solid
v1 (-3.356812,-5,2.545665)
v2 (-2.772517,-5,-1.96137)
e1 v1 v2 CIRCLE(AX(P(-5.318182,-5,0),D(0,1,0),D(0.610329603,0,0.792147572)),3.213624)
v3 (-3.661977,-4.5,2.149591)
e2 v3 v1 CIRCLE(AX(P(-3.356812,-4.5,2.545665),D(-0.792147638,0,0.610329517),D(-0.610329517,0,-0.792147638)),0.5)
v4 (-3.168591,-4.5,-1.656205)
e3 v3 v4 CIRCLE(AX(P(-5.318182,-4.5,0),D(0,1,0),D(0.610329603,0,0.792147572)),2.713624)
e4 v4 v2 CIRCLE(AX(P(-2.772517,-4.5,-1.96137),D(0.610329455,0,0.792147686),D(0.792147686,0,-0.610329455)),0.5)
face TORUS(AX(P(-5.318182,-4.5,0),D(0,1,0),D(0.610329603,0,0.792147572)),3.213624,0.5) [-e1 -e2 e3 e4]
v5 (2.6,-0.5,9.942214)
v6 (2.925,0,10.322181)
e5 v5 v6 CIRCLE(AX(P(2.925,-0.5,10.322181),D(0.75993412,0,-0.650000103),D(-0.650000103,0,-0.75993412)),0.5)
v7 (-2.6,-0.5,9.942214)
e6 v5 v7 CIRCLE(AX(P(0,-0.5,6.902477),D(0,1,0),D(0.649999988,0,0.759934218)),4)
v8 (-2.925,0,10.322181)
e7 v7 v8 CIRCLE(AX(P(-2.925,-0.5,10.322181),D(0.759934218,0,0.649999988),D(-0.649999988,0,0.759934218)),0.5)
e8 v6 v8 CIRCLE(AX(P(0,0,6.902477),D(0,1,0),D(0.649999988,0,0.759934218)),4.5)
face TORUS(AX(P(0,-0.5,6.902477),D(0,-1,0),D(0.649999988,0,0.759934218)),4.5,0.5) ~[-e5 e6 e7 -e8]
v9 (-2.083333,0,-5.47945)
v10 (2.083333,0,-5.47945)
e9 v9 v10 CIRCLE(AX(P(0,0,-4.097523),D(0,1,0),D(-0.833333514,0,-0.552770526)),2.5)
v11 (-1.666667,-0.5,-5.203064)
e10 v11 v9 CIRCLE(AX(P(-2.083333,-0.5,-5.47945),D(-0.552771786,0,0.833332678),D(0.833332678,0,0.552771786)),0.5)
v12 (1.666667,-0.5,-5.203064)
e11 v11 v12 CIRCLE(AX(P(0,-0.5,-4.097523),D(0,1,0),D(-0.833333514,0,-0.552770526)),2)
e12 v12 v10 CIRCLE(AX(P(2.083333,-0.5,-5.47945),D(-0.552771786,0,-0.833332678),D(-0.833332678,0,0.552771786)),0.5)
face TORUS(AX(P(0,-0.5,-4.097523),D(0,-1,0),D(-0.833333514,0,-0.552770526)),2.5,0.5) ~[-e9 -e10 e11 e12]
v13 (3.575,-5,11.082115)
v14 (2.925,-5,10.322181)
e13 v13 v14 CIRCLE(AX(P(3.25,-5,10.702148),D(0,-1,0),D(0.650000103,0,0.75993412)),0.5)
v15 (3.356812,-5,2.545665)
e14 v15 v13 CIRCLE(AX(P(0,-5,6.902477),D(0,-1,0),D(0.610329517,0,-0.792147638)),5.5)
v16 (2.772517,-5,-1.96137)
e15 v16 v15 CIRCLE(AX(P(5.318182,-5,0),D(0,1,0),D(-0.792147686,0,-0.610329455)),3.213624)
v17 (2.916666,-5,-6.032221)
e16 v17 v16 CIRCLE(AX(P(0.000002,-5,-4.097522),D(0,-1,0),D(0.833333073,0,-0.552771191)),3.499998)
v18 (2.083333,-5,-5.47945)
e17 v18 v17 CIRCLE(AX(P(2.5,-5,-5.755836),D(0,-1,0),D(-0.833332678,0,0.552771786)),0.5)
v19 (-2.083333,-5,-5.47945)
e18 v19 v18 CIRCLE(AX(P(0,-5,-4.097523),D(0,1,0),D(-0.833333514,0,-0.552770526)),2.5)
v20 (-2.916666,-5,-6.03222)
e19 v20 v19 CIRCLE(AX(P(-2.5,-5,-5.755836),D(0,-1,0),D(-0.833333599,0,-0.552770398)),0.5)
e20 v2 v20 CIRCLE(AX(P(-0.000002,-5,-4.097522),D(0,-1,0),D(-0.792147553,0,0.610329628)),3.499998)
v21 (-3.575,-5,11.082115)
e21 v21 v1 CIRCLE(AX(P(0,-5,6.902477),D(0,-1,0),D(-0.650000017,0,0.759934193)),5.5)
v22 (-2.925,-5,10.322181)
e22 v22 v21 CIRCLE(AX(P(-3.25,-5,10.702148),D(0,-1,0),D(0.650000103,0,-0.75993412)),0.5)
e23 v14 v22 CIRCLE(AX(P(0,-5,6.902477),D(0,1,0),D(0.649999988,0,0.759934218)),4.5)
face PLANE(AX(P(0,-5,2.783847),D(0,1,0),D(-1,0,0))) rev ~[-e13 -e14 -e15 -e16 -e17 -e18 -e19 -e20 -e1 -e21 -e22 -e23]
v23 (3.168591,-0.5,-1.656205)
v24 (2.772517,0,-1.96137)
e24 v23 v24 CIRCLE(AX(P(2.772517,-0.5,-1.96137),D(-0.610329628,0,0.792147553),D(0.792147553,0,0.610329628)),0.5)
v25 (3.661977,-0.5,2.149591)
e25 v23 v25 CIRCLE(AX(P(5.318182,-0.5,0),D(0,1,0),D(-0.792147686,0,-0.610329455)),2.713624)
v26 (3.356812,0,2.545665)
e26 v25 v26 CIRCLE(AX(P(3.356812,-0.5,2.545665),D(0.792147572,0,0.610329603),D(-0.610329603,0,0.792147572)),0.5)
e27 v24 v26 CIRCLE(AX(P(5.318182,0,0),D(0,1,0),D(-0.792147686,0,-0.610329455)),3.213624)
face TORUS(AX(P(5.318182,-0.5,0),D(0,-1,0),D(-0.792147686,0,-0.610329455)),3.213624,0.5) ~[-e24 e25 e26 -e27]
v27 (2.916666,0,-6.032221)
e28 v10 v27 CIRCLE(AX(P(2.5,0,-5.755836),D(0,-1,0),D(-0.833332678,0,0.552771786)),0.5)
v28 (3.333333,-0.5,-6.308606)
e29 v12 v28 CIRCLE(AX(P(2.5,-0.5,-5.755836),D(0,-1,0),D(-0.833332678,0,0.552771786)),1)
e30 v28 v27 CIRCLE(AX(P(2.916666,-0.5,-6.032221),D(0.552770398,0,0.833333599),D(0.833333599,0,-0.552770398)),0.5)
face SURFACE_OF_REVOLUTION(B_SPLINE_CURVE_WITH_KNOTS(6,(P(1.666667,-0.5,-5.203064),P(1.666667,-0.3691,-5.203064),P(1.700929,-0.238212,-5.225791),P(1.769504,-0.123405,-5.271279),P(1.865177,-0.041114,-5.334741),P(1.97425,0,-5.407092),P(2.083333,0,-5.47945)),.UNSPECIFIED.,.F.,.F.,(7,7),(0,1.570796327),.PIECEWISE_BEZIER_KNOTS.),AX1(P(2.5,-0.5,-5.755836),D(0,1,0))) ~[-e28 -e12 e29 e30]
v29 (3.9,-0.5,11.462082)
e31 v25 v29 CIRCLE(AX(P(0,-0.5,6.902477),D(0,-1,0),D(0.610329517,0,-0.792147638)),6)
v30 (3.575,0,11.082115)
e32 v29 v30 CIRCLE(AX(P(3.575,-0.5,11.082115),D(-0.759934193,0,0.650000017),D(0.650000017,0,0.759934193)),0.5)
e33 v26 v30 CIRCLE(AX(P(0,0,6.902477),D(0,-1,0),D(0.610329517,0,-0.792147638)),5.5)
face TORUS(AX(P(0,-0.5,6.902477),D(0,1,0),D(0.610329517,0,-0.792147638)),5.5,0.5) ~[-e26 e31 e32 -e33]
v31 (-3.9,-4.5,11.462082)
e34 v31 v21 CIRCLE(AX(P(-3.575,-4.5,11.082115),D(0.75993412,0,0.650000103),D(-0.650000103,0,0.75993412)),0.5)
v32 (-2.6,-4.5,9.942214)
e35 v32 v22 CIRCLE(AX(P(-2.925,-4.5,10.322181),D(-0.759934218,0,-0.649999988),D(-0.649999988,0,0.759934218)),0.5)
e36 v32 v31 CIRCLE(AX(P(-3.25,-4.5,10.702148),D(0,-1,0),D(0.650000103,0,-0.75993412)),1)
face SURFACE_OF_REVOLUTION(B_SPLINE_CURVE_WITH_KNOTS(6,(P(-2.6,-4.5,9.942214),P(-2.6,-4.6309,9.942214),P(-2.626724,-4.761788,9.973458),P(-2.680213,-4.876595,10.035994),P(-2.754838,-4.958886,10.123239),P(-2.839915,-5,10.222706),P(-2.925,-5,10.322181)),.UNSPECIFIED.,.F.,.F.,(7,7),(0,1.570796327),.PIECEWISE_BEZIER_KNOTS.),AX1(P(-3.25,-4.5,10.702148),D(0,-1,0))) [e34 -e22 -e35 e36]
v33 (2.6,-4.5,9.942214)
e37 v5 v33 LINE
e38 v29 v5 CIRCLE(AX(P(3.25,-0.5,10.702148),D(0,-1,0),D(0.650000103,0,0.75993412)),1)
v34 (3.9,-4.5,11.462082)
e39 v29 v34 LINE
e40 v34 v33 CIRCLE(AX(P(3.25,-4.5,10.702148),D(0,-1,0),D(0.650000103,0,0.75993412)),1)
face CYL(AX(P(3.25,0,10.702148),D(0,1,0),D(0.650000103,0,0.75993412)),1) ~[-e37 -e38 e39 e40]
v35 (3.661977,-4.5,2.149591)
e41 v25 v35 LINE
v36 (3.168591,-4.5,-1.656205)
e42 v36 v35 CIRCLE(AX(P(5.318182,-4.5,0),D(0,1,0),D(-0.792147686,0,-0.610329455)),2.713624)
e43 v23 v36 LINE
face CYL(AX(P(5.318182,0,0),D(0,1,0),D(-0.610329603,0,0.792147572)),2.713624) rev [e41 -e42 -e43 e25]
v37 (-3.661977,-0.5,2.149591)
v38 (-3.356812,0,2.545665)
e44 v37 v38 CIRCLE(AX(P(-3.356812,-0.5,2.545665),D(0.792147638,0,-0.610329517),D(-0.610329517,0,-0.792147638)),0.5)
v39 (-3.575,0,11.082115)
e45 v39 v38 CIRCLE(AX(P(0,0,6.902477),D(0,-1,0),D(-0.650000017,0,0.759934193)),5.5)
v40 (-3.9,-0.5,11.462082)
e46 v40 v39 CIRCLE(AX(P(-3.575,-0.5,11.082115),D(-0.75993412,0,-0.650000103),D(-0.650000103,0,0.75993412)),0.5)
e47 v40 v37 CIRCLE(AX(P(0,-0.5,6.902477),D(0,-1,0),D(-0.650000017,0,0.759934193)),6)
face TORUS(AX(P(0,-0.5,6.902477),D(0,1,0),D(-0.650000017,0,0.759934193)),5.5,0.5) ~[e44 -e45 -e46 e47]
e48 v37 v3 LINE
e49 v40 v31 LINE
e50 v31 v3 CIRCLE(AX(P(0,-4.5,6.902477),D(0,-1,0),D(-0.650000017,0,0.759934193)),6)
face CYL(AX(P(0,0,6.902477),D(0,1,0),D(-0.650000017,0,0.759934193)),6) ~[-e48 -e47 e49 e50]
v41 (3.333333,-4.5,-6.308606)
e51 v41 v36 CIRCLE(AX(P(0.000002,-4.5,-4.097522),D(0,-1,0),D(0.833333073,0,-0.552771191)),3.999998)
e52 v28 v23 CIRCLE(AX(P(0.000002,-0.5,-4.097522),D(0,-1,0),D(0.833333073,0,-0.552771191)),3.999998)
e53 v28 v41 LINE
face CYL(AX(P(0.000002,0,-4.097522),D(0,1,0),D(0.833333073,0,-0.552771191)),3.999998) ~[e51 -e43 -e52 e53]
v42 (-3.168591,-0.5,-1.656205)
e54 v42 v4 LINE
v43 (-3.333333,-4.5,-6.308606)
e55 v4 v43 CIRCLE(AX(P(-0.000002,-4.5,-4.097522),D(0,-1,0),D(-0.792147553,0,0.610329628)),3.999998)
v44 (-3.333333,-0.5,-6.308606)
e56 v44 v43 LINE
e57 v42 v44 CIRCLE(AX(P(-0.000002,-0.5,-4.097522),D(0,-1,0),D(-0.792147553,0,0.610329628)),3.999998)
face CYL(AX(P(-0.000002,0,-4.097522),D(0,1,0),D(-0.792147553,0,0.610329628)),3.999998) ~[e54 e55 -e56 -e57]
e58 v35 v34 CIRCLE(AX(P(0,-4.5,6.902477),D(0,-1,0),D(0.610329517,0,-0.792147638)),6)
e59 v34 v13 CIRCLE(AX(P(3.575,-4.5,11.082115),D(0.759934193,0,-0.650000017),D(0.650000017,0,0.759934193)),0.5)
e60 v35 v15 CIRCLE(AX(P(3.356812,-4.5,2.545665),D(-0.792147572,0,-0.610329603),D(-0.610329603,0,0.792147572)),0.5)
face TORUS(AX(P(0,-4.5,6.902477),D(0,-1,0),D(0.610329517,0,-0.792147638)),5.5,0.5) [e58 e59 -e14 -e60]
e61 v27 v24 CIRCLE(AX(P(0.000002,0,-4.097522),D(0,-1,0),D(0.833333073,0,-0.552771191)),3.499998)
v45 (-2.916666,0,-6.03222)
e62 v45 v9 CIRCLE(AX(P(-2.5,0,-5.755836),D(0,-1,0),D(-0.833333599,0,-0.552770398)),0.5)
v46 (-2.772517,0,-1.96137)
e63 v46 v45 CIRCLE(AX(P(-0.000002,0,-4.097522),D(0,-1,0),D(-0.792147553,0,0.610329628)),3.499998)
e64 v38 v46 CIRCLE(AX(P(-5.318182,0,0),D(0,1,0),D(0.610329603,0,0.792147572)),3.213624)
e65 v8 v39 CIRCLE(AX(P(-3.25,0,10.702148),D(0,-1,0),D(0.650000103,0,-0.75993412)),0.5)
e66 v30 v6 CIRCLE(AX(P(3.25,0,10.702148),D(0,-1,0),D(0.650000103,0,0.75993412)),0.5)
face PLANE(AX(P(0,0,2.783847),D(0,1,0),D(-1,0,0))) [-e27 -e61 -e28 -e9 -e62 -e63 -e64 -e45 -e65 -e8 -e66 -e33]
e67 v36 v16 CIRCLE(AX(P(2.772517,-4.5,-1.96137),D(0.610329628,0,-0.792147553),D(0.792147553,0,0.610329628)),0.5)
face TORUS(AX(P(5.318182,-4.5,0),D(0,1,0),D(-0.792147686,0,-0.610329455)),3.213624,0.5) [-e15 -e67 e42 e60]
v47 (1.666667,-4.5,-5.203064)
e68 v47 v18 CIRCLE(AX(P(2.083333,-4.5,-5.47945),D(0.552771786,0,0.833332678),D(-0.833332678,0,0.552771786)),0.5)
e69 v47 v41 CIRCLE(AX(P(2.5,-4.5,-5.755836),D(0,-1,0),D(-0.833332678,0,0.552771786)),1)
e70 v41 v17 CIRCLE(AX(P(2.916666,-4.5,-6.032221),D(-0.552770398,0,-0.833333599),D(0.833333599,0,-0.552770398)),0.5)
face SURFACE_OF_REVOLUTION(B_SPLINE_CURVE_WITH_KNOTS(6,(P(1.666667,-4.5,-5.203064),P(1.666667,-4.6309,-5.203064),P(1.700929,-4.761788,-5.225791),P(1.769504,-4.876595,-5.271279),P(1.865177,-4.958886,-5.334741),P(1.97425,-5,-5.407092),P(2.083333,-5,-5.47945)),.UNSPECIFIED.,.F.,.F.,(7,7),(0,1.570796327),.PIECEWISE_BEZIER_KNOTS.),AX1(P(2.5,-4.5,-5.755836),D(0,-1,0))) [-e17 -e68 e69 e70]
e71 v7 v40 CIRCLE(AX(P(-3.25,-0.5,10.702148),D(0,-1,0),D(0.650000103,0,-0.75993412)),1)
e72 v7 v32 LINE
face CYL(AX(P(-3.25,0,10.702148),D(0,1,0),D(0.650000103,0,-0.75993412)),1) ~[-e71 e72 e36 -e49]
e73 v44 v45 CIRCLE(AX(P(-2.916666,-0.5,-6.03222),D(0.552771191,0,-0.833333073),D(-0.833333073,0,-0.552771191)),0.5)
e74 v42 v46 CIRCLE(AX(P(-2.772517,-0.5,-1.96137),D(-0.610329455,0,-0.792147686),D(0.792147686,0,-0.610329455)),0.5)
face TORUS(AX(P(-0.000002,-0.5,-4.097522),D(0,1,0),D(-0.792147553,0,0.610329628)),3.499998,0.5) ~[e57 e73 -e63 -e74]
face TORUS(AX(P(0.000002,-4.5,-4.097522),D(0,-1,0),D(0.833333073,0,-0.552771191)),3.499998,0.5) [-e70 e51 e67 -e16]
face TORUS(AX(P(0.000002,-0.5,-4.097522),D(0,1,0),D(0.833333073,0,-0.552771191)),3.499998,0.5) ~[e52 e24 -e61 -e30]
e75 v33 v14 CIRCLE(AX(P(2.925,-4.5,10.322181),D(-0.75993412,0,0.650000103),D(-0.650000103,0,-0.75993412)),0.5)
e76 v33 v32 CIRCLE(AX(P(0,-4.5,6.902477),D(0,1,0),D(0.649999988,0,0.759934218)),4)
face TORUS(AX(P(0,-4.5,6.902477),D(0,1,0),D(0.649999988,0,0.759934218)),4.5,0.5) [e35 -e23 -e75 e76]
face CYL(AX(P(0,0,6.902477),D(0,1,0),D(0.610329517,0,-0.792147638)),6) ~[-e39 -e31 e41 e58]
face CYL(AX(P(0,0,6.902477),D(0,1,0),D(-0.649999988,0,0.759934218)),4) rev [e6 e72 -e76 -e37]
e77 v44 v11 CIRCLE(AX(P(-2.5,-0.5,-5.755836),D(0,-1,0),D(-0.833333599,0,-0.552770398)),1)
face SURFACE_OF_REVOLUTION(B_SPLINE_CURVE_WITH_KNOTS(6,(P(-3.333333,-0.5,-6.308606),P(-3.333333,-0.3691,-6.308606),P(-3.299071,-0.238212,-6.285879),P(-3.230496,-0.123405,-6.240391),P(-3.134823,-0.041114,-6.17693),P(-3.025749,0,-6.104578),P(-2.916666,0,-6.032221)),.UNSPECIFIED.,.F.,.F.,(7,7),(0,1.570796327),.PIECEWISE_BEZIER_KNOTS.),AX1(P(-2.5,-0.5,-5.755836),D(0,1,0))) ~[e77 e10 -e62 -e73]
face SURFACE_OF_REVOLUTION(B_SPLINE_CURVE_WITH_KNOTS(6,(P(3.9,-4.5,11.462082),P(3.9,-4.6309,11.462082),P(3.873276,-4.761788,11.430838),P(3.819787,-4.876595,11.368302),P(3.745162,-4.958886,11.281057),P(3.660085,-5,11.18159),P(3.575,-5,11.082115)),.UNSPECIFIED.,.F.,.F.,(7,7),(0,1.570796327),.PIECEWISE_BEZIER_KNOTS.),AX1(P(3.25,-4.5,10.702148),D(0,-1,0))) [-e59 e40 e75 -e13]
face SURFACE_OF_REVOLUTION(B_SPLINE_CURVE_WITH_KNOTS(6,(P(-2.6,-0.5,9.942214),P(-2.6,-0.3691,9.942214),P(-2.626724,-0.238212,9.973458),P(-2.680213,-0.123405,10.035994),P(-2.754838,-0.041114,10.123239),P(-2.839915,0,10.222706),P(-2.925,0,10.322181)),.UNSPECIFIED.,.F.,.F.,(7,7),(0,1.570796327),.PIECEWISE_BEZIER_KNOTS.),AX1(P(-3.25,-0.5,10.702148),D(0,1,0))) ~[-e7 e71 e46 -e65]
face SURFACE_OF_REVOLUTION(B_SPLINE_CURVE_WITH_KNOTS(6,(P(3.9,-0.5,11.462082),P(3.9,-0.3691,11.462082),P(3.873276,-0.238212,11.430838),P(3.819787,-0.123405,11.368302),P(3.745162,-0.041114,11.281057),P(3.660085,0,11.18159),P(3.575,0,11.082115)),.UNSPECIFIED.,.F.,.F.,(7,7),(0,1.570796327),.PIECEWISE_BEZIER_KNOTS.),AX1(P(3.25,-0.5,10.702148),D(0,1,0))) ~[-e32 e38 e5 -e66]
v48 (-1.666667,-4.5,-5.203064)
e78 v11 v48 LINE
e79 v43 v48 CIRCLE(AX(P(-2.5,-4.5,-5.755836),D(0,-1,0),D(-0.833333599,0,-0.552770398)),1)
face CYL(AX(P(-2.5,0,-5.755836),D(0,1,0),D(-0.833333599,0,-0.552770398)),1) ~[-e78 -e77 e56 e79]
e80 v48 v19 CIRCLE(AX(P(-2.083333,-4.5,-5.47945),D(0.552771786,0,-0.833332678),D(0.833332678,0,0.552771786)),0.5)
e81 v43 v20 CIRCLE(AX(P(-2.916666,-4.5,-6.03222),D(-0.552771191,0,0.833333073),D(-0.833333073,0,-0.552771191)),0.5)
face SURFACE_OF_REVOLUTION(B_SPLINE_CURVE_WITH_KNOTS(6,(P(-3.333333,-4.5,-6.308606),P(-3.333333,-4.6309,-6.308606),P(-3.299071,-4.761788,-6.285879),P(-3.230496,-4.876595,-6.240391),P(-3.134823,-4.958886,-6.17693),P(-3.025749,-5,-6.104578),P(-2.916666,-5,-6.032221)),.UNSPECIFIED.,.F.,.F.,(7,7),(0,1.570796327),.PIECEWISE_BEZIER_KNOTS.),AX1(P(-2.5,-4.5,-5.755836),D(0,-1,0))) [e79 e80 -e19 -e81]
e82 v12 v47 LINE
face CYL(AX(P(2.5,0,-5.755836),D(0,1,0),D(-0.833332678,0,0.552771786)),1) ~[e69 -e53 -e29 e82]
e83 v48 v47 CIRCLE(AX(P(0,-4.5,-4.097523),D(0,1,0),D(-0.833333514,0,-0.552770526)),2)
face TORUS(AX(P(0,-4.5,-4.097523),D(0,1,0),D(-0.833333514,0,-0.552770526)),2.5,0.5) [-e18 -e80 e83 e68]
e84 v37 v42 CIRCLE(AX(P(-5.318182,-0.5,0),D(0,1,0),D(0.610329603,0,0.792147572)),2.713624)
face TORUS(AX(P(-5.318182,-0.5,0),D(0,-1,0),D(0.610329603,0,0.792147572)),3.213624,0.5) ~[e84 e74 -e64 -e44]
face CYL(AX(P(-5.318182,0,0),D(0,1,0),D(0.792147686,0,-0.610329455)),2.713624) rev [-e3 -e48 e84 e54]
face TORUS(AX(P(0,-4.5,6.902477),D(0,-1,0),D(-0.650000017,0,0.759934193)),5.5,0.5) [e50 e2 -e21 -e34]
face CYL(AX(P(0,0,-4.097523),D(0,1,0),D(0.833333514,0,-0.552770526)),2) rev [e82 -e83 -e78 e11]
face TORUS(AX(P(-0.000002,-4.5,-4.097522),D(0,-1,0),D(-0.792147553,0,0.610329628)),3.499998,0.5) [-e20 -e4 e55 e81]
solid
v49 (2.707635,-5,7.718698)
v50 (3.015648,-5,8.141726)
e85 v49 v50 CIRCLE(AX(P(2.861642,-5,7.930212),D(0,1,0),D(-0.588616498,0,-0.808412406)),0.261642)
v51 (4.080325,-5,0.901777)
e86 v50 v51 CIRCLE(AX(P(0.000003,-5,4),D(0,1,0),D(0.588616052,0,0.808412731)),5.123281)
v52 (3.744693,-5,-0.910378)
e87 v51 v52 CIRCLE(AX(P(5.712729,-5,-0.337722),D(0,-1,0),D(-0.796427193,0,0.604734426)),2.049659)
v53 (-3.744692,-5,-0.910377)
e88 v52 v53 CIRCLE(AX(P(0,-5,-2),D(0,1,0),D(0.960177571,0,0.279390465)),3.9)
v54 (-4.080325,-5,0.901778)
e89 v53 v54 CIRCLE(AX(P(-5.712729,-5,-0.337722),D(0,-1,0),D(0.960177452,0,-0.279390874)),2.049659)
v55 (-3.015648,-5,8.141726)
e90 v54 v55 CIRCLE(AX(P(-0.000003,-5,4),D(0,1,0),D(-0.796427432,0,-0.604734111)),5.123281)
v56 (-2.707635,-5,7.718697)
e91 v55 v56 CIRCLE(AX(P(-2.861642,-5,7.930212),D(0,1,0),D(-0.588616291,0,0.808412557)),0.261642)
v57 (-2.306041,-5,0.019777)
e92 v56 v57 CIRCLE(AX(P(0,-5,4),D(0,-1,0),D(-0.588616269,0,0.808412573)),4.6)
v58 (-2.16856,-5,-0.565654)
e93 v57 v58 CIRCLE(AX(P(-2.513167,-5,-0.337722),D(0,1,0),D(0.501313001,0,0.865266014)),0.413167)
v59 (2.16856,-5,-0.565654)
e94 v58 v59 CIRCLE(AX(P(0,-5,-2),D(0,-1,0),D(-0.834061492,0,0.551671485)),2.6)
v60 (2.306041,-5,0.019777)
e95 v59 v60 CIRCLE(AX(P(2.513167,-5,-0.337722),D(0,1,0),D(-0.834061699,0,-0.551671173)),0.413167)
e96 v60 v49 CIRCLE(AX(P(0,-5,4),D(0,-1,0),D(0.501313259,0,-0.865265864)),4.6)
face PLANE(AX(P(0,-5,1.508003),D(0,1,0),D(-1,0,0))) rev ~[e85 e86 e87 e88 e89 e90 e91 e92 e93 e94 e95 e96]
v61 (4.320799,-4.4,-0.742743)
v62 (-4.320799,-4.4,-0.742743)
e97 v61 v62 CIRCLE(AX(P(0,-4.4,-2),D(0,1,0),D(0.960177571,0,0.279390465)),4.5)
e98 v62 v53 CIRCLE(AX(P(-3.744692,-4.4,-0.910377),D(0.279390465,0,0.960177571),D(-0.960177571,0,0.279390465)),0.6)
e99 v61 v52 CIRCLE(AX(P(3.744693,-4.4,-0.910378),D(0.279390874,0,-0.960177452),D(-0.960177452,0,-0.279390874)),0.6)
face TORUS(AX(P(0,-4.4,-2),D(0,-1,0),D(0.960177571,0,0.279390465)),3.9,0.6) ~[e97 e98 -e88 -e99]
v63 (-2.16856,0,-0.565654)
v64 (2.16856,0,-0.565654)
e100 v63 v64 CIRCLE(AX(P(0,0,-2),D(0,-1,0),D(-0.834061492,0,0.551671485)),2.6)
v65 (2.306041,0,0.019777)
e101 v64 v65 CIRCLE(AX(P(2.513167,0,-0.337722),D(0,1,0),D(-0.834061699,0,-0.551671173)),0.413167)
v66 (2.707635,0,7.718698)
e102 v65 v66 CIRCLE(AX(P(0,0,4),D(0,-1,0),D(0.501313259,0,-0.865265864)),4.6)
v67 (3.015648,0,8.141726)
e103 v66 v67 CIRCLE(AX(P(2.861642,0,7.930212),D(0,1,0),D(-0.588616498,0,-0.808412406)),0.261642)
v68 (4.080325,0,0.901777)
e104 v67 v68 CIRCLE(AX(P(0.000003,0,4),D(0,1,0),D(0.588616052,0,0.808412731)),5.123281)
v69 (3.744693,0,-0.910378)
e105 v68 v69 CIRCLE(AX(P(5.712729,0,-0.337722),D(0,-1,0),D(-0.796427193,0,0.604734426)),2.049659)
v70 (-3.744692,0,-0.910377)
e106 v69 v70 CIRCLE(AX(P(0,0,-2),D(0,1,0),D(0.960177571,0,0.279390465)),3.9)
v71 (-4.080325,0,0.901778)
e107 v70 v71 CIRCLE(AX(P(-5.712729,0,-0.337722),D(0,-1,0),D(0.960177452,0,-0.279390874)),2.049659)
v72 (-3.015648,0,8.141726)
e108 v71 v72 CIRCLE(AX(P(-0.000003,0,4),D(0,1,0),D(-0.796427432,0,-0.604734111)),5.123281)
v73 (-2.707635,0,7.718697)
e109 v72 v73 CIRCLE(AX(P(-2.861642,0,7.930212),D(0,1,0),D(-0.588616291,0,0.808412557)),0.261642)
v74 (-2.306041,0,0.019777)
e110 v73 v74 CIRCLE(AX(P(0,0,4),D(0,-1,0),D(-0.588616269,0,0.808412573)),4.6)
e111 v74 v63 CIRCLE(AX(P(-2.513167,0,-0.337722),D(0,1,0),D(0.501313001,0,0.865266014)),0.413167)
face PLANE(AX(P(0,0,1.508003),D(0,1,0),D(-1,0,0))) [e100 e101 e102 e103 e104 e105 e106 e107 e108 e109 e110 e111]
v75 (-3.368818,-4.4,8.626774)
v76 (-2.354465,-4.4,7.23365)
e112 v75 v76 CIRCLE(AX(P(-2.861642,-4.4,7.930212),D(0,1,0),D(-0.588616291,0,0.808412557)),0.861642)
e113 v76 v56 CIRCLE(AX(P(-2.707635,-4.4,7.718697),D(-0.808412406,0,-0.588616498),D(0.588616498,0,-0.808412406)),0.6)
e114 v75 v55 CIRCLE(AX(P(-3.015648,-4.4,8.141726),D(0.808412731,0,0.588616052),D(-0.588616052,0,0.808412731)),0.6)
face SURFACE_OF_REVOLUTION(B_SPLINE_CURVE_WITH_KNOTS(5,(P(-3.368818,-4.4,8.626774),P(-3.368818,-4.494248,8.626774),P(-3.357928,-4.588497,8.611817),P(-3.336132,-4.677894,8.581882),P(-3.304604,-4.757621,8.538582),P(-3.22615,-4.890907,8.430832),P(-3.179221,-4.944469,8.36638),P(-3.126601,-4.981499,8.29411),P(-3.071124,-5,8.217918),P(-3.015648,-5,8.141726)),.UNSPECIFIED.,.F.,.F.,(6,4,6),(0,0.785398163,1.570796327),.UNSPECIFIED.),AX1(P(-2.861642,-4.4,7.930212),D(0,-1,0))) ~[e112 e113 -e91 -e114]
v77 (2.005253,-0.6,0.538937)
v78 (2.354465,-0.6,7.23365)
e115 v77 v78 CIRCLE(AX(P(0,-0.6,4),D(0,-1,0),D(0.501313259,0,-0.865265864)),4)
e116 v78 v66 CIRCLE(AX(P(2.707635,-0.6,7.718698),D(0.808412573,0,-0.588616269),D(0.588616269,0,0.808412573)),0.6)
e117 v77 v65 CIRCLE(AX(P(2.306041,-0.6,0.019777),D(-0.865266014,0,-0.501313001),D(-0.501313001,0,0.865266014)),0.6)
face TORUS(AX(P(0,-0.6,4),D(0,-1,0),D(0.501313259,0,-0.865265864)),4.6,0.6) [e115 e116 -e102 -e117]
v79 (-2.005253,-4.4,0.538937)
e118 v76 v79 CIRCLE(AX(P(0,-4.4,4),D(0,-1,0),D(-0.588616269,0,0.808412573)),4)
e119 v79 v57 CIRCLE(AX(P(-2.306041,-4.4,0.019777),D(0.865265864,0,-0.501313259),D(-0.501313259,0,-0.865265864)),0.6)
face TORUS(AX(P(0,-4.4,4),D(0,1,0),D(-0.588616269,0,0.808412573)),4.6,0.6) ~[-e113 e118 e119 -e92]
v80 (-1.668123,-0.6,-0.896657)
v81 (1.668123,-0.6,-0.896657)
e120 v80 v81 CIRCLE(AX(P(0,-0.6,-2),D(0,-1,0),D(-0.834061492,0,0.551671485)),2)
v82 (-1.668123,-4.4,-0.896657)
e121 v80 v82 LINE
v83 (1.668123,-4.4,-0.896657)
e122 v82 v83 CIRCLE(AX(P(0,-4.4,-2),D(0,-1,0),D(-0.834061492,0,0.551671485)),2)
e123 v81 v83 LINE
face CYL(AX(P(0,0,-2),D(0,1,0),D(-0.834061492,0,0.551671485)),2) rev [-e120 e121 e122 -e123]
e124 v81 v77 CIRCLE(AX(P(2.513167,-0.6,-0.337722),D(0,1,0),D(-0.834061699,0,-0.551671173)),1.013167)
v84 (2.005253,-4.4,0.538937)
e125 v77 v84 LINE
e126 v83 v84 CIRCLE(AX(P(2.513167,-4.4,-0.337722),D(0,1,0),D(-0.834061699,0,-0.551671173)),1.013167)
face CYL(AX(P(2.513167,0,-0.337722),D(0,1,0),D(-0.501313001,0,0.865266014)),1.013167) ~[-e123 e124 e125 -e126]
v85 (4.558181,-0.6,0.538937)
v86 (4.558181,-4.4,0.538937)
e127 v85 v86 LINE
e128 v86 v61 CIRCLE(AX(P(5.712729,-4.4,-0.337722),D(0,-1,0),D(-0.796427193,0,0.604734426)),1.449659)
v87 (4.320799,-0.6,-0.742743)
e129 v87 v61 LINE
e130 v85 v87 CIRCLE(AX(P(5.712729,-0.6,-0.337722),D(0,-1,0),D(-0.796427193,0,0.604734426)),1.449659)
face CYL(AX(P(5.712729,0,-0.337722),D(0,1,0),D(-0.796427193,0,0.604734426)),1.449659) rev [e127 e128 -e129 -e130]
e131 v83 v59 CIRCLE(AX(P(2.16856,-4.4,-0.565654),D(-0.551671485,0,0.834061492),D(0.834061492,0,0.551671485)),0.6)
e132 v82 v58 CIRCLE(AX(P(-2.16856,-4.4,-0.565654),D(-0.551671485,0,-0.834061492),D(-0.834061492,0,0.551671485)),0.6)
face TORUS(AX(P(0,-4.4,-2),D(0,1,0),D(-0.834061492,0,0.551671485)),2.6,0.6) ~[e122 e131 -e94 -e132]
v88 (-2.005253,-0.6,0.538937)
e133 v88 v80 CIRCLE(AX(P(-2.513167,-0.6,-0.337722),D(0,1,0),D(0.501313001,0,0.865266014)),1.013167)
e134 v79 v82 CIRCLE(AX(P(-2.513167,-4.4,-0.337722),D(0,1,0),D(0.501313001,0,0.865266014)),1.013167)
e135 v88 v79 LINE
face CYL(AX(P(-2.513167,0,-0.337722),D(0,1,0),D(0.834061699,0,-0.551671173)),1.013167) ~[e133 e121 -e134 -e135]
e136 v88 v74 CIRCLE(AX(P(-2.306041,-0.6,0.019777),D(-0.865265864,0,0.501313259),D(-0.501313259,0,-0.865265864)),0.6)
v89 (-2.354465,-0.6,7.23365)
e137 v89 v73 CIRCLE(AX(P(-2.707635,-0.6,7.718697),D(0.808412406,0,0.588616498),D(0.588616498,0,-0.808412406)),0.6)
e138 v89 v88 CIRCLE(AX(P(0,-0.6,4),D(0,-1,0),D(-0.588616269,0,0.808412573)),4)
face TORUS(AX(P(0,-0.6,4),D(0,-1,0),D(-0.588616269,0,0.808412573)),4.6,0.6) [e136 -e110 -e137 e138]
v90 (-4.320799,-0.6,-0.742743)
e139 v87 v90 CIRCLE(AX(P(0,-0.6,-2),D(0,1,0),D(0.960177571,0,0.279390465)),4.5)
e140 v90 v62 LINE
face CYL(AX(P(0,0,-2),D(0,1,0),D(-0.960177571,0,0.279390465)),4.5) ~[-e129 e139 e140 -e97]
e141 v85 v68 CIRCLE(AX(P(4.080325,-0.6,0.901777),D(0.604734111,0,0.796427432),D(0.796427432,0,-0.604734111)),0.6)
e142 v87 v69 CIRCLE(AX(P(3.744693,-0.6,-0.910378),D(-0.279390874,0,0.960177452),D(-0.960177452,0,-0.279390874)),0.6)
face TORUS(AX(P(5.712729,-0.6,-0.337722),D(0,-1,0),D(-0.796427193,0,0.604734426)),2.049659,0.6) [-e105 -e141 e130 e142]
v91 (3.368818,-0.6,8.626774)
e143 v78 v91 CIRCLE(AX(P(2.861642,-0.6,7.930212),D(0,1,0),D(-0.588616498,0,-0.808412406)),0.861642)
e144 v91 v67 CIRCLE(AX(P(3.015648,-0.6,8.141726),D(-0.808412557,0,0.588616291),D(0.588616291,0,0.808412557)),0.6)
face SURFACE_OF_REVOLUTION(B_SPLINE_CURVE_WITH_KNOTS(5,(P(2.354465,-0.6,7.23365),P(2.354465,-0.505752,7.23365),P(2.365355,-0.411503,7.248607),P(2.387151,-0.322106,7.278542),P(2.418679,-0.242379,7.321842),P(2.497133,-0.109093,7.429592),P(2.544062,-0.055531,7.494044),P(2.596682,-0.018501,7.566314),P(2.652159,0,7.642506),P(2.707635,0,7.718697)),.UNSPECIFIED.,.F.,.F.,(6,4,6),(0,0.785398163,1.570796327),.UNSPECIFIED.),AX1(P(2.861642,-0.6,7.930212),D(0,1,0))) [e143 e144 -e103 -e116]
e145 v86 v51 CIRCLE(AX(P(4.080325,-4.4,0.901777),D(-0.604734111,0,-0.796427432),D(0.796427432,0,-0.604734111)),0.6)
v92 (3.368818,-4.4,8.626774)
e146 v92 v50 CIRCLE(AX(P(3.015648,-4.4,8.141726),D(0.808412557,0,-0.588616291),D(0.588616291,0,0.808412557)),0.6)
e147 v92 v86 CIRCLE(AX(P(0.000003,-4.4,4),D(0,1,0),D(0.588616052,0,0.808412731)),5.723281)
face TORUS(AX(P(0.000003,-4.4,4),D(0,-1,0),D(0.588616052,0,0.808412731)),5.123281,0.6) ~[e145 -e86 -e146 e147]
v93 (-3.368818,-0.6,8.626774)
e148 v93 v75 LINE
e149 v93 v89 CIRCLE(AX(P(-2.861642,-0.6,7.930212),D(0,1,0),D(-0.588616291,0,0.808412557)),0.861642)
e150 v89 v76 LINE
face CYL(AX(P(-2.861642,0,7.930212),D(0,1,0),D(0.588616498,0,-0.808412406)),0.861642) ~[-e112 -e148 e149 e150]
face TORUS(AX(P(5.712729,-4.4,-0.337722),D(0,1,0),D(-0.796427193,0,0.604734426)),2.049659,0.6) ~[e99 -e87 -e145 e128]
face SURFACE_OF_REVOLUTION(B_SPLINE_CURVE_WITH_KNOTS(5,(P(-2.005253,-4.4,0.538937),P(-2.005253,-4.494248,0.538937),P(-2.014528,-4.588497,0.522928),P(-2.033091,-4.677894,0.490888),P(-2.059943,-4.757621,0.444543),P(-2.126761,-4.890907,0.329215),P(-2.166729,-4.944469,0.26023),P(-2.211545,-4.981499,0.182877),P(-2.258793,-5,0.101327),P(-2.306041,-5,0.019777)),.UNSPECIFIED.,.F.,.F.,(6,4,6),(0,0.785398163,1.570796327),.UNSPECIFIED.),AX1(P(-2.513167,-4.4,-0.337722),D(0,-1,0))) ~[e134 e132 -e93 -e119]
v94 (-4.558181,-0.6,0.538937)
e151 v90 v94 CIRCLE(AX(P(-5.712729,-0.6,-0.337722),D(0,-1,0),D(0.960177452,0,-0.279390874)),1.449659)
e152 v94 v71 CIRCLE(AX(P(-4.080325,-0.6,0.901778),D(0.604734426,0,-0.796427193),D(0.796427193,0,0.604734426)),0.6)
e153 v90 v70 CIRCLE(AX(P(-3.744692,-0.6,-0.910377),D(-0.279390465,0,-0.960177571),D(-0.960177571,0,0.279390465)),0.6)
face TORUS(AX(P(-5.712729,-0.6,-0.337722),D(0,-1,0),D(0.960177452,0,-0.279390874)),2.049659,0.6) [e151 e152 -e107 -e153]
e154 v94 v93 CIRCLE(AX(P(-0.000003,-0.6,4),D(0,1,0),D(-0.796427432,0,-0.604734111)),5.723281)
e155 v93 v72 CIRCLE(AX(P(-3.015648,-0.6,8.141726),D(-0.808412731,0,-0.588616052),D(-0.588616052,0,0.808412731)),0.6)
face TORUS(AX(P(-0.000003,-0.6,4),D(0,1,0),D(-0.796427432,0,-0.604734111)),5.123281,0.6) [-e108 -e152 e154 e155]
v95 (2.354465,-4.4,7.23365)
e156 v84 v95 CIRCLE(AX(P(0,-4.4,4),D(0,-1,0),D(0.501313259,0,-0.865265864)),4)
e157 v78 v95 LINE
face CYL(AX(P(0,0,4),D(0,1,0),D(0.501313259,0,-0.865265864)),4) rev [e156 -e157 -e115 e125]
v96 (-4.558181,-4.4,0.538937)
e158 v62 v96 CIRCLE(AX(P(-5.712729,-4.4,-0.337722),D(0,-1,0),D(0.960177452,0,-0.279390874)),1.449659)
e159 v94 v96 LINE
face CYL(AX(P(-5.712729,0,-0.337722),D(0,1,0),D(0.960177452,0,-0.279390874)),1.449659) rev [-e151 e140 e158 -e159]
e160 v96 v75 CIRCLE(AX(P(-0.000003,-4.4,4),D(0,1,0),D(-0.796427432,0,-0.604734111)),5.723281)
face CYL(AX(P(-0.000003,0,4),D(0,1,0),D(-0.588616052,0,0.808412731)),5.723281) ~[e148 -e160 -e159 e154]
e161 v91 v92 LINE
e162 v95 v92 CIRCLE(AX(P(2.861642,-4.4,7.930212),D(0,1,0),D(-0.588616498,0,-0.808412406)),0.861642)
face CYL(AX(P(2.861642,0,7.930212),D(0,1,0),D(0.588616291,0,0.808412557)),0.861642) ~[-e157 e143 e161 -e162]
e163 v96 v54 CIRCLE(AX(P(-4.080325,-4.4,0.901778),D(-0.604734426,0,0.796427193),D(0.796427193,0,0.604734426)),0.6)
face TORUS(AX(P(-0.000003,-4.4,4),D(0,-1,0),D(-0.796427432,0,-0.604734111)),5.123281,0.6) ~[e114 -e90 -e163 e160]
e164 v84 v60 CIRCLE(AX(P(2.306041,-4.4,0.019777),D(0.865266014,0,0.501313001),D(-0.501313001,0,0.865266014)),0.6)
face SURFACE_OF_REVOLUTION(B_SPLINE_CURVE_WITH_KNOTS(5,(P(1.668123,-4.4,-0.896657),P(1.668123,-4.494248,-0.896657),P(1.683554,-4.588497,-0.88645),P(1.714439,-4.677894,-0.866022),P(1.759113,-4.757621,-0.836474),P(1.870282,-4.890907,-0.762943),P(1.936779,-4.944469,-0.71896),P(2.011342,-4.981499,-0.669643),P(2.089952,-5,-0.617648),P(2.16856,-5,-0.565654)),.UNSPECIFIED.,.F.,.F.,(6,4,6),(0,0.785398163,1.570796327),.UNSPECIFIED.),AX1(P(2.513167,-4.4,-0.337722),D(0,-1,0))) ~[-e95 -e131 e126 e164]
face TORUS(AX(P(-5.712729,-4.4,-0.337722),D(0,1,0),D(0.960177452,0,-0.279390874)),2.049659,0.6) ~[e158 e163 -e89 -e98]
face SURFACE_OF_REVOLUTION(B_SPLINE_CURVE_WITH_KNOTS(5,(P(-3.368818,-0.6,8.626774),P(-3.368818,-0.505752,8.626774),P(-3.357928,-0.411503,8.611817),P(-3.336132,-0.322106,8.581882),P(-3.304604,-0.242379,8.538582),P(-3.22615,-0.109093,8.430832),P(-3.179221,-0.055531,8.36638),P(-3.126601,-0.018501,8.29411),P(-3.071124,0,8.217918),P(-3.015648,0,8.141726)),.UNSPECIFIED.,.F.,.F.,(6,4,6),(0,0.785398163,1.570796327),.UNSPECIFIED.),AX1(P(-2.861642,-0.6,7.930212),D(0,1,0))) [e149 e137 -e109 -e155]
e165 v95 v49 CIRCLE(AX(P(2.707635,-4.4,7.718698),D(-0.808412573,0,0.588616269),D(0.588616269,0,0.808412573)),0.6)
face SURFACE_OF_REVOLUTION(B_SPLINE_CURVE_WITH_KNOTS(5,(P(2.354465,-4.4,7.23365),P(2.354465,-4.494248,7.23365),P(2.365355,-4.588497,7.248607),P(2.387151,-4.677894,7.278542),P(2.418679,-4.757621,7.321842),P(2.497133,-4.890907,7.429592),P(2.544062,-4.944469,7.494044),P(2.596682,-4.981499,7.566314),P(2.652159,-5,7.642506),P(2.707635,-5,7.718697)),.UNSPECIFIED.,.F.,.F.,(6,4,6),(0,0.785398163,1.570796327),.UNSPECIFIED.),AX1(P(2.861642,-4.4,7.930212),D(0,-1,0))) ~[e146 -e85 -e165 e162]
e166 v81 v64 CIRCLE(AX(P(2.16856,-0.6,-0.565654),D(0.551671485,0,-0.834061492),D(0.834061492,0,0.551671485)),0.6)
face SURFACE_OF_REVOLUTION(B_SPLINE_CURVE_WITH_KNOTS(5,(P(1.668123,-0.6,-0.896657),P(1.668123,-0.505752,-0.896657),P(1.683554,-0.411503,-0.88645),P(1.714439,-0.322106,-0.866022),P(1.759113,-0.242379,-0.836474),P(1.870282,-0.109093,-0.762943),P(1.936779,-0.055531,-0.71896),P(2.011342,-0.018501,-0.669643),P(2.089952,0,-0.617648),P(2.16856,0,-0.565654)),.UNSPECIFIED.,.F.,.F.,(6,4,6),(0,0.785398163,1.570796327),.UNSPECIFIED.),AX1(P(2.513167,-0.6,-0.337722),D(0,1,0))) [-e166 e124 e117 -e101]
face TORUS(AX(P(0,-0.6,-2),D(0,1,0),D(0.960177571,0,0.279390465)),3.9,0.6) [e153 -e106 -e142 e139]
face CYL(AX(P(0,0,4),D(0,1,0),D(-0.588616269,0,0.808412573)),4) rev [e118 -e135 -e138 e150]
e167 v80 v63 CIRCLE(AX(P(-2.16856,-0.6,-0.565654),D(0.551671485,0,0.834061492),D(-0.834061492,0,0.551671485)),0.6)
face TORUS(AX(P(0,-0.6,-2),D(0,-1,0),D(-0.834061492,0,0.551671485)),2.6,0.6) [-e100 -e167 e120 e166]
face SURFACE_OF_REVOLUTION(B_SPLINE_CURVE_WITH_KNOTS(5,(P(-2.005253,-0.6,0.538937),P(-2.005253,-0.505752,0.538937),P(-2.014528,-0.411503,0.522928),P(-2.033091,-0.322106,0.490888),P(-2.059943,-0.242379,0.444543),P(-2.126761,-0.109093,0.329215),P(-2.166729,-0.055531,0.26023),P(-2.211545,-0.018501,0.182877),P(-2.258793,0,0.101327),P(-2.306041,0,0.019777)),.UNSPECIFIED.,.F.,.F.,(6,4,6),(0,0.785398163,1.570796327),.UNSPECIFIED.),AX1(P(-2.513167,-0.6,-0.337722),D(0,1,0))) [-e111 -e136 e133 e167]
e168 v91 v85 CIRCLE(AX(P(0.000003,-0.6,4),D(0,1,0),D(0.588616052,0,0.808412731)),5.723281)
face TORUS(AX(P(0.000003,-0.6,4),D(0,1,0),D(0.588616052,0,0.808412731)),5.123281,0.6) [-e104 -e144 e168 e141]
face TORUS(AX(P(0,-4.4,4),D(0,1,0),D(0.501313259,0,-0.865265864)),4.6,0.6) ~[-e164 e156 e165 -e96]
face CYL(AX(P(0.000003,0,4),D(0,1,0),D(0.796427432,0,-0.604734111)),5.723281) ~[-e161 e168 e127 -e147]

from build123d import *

# Parameters (mm, degrees)
PAD_DEPTH    = 5
FILLET_R     = 0.5
PAD001_DEPTH = 5
FILLET001_R  = 0.6


with BuildPart() as body:
    # Sketch → Pad (new body)
    with BuildSketch(Plane.XZ):
        with BuildLine():
            ThreePointArc((1.666667, -5.203064), (0, -2.097523), (-1.666667, -5.203064))
            ThreePointArc((-3.333333, -6.308606), (-1.947229, -6.589169), (-1.666667, -5.203064))
            ThreePointArc((-3.168591, -1.656205), (-3.997495, -3.955971), (-3.333333, -6.308606))
            ThreePointArc((-3.168591, -1.656205), (-2.627078, 0.348877), (-3.661977, 2.149591))
            ThreePointArc((-3.9, 11.462082), (-5.998041, 6.74917), (-3.661977, 2.149591))
            ThreePointArc((-2.6, 9.942214), (-2.490066, 11.352148), (-3.9, 11.462082))
            ThreePointArc((-2.6, 9.942214), (0, 2.902477), (2.6, 9.942214))
            ThreePointArc((3.9, 11.462082), (2.490066, 11.352148), (2.6, 9.942214))
            ThreePointArc((3.661977, 2.149591), (5.998041, 6.74917), (3.9, 11.462082))
            ThreePointArc((3.661977, 2.149591), (2.627078, 0.348877), (3.168591, -1.656205))
            ThreePointArc((3.333333, -6.308606), (3.997495, -3.955971), (3.168591, -1.656205))
            ThreePointArc((1.666667, -5.203064), (1.947229, -6.589169), (3.333333, -6.308606))
        make_face()
    extrude(amount=PAD_DEPTH)

    # Fillet
    fillet_edges = [body.edges().sort_by_distance(p)[0] for p in [
        (1.666667, -2.5, -5.203064),
        (3.333333, -2.5, -6.308606),
        (1.947229, 0, -6.589169),
        (1.947229, -5, -6.589169),
        (-1.666667, -2.5, -5.203064),
        (0, 0, -2.097523),
        (0, -5, -2.097523),
        (-3.333333, -2.5, -6.308606),
        (-1.947229, 0, -6.589169),
        (-1.947229, -5, -6.589169),
        (-3.168591, -2.5, -1.656205),
        (-3.997495, 0, -3.955971),
        (-3.997495, -5, -3.955971),
        (-3.661977, -2.5, 2.149591),
        (-2.627078, 0, 0.348877),
        (-2.627078, -5, 0.348877),
        (-3.9, -2.5, 11.462082),
        (-5.998041, 0, 6.74917),
        (-5.998041, -5, 6.74917),
        (-2.6, -2.5, 9.942214),
        (-2.490066, 0, 11.352148),
        (-2.490066, -5, 11.352148),
        (2.6, -2.5, 9.942214),
        (0, 0, 2.902477),
        (0, -5, 2.902477),
        (3.9, -2.5, 11.462082),
        (2.490066, 0, 11.352148),
        (2.490066, -5, 11.352148),
        (3.661977, -2.5, 2.149591),
        (5.998041, 0, 6.74917),
        (5.998041, -5, 6.74917),
        (3.168591, -2.5, -1.656205),
        (2.627078, 0, 0.348877),
        (2.627078, -5, 0.348877),
        (3.997495, 0, -3.955971),
        (3.997495, -5, -3.955971),
    ]]
    fillet(fillet_edges, radius=FILLET_R)


with BuildPart() as body001:
    # Sketch001 → Pad001 (new body)
    with BuildSketch(Plane.XZ):
        with BuildLine():
            ThreePointArc((2.005253, 0.538937), (3.994569, 3.791634), (2.354465, 7.23365))
            ThreePointArc((3.368818, 8.626774), (2.16508, 8.437389), (2.354465, 7.23365))
            ThreePointArc((4.558181, 0.538937), (5.662386, 4.832686), (3.368818, 8.626774))
            ThreePointArc((4.558181, 0.538937), (4.287312, -0.073718), (4.320799, -0.742743))
            ThreePointArc((-4.320799, -0.742743), (0, -6.5), (4.320799, -0.742743))
            ThreePointArc((-4.320799, -0.742743), (-4.287312, -0.073718), (-4.558181, 0.538937))
            ThreePointArc((-3.368818, 8.626774), (-5.662386, 4.832686), (-4.558181, 0.538937))
            ThreePointArc((-2.354465, 7.23365), (-2.16508, 8.437389), (-3.368818, 8.626774))
            ThreePointArc((-2.354465, 7.23365), (-3.994569, 3.791634), (-2.005253, 0.538937))
            ThreePointArc((-1.668123, -0.896657), (-1.526832, -0.106095), (-2.005253, 0.538937))
            ThreePointArc((-1.668123, -0.896657), (0, -4), (1.668123, -0.896657))
            ThreePointArc((2.005253, 0.538937), (1.526832, -0.106095), (1.668123, -0.896657))
        make_face()
    extrude(amount=PAD001_DEPTH)

    # Fillet001
    fillet001_edges = [body001.edges().sort_by_distance(p)[0] for p in [
        (-1.668123, -2.5, -0.896657),
        (1.668123, -2.5, -0.896657),
        (0, 0, -4),
        (0, -5, -4),
        (2.005253, -2.5, 0.538937),
        (1.526832, 0, -0.106095),
        (1.526832, -5, -0.106095),
        (2.354465, -2.5, 7.23365),
        (3.994569, 0, 3.791634),
        (3.994569, -5, 3.791634),
        (3.368818, -2.5, 8.626774),
        (2.16508, 0, 8.437389),
        (2.16508, -5, 8.437389),
        (4.558181, -2.5, 0.538937),
        (5.662386, 0, 4.832686),
        (5.662386, -5, 4.832686),
        (4.320799, -2.5, -0.742743),
        (4.287312, 0, -0.073718),
        (4.287312, -5, -0.073718),
        (-4.320799, -2.5, -0.742743),
        (0, 0, -6.5),
        (0, -5, -6.5),
        (-4.558181, -2.5, 0.538937),
        (-4.287312, 0, -0.073718),
        (-4.287312, -5, -0.073718),
        (-3.368818, -2.5, 8.626774),
        (-5.662386, 0, 4.832686),
        (-5.662386, -5, 4.832686),
        (-2.354465, -2.5, 7.23365),
        (-2.16508, 0, 8.437389),
        (-2.16508, -5, 8.437389),
        (-2.005253, -2.5, 0.538937),
        (-3.994569, 0, 3.791634),
        (-3.994569, -5, 3.791634),
        (-1.526832, 0, -0.106095),
        (-1.526832, -5, -0.106095),
    ]]
    fillet(fillet001_edges, radius=FILLET001_R)


solid = Compound([body.part, body001.part])
